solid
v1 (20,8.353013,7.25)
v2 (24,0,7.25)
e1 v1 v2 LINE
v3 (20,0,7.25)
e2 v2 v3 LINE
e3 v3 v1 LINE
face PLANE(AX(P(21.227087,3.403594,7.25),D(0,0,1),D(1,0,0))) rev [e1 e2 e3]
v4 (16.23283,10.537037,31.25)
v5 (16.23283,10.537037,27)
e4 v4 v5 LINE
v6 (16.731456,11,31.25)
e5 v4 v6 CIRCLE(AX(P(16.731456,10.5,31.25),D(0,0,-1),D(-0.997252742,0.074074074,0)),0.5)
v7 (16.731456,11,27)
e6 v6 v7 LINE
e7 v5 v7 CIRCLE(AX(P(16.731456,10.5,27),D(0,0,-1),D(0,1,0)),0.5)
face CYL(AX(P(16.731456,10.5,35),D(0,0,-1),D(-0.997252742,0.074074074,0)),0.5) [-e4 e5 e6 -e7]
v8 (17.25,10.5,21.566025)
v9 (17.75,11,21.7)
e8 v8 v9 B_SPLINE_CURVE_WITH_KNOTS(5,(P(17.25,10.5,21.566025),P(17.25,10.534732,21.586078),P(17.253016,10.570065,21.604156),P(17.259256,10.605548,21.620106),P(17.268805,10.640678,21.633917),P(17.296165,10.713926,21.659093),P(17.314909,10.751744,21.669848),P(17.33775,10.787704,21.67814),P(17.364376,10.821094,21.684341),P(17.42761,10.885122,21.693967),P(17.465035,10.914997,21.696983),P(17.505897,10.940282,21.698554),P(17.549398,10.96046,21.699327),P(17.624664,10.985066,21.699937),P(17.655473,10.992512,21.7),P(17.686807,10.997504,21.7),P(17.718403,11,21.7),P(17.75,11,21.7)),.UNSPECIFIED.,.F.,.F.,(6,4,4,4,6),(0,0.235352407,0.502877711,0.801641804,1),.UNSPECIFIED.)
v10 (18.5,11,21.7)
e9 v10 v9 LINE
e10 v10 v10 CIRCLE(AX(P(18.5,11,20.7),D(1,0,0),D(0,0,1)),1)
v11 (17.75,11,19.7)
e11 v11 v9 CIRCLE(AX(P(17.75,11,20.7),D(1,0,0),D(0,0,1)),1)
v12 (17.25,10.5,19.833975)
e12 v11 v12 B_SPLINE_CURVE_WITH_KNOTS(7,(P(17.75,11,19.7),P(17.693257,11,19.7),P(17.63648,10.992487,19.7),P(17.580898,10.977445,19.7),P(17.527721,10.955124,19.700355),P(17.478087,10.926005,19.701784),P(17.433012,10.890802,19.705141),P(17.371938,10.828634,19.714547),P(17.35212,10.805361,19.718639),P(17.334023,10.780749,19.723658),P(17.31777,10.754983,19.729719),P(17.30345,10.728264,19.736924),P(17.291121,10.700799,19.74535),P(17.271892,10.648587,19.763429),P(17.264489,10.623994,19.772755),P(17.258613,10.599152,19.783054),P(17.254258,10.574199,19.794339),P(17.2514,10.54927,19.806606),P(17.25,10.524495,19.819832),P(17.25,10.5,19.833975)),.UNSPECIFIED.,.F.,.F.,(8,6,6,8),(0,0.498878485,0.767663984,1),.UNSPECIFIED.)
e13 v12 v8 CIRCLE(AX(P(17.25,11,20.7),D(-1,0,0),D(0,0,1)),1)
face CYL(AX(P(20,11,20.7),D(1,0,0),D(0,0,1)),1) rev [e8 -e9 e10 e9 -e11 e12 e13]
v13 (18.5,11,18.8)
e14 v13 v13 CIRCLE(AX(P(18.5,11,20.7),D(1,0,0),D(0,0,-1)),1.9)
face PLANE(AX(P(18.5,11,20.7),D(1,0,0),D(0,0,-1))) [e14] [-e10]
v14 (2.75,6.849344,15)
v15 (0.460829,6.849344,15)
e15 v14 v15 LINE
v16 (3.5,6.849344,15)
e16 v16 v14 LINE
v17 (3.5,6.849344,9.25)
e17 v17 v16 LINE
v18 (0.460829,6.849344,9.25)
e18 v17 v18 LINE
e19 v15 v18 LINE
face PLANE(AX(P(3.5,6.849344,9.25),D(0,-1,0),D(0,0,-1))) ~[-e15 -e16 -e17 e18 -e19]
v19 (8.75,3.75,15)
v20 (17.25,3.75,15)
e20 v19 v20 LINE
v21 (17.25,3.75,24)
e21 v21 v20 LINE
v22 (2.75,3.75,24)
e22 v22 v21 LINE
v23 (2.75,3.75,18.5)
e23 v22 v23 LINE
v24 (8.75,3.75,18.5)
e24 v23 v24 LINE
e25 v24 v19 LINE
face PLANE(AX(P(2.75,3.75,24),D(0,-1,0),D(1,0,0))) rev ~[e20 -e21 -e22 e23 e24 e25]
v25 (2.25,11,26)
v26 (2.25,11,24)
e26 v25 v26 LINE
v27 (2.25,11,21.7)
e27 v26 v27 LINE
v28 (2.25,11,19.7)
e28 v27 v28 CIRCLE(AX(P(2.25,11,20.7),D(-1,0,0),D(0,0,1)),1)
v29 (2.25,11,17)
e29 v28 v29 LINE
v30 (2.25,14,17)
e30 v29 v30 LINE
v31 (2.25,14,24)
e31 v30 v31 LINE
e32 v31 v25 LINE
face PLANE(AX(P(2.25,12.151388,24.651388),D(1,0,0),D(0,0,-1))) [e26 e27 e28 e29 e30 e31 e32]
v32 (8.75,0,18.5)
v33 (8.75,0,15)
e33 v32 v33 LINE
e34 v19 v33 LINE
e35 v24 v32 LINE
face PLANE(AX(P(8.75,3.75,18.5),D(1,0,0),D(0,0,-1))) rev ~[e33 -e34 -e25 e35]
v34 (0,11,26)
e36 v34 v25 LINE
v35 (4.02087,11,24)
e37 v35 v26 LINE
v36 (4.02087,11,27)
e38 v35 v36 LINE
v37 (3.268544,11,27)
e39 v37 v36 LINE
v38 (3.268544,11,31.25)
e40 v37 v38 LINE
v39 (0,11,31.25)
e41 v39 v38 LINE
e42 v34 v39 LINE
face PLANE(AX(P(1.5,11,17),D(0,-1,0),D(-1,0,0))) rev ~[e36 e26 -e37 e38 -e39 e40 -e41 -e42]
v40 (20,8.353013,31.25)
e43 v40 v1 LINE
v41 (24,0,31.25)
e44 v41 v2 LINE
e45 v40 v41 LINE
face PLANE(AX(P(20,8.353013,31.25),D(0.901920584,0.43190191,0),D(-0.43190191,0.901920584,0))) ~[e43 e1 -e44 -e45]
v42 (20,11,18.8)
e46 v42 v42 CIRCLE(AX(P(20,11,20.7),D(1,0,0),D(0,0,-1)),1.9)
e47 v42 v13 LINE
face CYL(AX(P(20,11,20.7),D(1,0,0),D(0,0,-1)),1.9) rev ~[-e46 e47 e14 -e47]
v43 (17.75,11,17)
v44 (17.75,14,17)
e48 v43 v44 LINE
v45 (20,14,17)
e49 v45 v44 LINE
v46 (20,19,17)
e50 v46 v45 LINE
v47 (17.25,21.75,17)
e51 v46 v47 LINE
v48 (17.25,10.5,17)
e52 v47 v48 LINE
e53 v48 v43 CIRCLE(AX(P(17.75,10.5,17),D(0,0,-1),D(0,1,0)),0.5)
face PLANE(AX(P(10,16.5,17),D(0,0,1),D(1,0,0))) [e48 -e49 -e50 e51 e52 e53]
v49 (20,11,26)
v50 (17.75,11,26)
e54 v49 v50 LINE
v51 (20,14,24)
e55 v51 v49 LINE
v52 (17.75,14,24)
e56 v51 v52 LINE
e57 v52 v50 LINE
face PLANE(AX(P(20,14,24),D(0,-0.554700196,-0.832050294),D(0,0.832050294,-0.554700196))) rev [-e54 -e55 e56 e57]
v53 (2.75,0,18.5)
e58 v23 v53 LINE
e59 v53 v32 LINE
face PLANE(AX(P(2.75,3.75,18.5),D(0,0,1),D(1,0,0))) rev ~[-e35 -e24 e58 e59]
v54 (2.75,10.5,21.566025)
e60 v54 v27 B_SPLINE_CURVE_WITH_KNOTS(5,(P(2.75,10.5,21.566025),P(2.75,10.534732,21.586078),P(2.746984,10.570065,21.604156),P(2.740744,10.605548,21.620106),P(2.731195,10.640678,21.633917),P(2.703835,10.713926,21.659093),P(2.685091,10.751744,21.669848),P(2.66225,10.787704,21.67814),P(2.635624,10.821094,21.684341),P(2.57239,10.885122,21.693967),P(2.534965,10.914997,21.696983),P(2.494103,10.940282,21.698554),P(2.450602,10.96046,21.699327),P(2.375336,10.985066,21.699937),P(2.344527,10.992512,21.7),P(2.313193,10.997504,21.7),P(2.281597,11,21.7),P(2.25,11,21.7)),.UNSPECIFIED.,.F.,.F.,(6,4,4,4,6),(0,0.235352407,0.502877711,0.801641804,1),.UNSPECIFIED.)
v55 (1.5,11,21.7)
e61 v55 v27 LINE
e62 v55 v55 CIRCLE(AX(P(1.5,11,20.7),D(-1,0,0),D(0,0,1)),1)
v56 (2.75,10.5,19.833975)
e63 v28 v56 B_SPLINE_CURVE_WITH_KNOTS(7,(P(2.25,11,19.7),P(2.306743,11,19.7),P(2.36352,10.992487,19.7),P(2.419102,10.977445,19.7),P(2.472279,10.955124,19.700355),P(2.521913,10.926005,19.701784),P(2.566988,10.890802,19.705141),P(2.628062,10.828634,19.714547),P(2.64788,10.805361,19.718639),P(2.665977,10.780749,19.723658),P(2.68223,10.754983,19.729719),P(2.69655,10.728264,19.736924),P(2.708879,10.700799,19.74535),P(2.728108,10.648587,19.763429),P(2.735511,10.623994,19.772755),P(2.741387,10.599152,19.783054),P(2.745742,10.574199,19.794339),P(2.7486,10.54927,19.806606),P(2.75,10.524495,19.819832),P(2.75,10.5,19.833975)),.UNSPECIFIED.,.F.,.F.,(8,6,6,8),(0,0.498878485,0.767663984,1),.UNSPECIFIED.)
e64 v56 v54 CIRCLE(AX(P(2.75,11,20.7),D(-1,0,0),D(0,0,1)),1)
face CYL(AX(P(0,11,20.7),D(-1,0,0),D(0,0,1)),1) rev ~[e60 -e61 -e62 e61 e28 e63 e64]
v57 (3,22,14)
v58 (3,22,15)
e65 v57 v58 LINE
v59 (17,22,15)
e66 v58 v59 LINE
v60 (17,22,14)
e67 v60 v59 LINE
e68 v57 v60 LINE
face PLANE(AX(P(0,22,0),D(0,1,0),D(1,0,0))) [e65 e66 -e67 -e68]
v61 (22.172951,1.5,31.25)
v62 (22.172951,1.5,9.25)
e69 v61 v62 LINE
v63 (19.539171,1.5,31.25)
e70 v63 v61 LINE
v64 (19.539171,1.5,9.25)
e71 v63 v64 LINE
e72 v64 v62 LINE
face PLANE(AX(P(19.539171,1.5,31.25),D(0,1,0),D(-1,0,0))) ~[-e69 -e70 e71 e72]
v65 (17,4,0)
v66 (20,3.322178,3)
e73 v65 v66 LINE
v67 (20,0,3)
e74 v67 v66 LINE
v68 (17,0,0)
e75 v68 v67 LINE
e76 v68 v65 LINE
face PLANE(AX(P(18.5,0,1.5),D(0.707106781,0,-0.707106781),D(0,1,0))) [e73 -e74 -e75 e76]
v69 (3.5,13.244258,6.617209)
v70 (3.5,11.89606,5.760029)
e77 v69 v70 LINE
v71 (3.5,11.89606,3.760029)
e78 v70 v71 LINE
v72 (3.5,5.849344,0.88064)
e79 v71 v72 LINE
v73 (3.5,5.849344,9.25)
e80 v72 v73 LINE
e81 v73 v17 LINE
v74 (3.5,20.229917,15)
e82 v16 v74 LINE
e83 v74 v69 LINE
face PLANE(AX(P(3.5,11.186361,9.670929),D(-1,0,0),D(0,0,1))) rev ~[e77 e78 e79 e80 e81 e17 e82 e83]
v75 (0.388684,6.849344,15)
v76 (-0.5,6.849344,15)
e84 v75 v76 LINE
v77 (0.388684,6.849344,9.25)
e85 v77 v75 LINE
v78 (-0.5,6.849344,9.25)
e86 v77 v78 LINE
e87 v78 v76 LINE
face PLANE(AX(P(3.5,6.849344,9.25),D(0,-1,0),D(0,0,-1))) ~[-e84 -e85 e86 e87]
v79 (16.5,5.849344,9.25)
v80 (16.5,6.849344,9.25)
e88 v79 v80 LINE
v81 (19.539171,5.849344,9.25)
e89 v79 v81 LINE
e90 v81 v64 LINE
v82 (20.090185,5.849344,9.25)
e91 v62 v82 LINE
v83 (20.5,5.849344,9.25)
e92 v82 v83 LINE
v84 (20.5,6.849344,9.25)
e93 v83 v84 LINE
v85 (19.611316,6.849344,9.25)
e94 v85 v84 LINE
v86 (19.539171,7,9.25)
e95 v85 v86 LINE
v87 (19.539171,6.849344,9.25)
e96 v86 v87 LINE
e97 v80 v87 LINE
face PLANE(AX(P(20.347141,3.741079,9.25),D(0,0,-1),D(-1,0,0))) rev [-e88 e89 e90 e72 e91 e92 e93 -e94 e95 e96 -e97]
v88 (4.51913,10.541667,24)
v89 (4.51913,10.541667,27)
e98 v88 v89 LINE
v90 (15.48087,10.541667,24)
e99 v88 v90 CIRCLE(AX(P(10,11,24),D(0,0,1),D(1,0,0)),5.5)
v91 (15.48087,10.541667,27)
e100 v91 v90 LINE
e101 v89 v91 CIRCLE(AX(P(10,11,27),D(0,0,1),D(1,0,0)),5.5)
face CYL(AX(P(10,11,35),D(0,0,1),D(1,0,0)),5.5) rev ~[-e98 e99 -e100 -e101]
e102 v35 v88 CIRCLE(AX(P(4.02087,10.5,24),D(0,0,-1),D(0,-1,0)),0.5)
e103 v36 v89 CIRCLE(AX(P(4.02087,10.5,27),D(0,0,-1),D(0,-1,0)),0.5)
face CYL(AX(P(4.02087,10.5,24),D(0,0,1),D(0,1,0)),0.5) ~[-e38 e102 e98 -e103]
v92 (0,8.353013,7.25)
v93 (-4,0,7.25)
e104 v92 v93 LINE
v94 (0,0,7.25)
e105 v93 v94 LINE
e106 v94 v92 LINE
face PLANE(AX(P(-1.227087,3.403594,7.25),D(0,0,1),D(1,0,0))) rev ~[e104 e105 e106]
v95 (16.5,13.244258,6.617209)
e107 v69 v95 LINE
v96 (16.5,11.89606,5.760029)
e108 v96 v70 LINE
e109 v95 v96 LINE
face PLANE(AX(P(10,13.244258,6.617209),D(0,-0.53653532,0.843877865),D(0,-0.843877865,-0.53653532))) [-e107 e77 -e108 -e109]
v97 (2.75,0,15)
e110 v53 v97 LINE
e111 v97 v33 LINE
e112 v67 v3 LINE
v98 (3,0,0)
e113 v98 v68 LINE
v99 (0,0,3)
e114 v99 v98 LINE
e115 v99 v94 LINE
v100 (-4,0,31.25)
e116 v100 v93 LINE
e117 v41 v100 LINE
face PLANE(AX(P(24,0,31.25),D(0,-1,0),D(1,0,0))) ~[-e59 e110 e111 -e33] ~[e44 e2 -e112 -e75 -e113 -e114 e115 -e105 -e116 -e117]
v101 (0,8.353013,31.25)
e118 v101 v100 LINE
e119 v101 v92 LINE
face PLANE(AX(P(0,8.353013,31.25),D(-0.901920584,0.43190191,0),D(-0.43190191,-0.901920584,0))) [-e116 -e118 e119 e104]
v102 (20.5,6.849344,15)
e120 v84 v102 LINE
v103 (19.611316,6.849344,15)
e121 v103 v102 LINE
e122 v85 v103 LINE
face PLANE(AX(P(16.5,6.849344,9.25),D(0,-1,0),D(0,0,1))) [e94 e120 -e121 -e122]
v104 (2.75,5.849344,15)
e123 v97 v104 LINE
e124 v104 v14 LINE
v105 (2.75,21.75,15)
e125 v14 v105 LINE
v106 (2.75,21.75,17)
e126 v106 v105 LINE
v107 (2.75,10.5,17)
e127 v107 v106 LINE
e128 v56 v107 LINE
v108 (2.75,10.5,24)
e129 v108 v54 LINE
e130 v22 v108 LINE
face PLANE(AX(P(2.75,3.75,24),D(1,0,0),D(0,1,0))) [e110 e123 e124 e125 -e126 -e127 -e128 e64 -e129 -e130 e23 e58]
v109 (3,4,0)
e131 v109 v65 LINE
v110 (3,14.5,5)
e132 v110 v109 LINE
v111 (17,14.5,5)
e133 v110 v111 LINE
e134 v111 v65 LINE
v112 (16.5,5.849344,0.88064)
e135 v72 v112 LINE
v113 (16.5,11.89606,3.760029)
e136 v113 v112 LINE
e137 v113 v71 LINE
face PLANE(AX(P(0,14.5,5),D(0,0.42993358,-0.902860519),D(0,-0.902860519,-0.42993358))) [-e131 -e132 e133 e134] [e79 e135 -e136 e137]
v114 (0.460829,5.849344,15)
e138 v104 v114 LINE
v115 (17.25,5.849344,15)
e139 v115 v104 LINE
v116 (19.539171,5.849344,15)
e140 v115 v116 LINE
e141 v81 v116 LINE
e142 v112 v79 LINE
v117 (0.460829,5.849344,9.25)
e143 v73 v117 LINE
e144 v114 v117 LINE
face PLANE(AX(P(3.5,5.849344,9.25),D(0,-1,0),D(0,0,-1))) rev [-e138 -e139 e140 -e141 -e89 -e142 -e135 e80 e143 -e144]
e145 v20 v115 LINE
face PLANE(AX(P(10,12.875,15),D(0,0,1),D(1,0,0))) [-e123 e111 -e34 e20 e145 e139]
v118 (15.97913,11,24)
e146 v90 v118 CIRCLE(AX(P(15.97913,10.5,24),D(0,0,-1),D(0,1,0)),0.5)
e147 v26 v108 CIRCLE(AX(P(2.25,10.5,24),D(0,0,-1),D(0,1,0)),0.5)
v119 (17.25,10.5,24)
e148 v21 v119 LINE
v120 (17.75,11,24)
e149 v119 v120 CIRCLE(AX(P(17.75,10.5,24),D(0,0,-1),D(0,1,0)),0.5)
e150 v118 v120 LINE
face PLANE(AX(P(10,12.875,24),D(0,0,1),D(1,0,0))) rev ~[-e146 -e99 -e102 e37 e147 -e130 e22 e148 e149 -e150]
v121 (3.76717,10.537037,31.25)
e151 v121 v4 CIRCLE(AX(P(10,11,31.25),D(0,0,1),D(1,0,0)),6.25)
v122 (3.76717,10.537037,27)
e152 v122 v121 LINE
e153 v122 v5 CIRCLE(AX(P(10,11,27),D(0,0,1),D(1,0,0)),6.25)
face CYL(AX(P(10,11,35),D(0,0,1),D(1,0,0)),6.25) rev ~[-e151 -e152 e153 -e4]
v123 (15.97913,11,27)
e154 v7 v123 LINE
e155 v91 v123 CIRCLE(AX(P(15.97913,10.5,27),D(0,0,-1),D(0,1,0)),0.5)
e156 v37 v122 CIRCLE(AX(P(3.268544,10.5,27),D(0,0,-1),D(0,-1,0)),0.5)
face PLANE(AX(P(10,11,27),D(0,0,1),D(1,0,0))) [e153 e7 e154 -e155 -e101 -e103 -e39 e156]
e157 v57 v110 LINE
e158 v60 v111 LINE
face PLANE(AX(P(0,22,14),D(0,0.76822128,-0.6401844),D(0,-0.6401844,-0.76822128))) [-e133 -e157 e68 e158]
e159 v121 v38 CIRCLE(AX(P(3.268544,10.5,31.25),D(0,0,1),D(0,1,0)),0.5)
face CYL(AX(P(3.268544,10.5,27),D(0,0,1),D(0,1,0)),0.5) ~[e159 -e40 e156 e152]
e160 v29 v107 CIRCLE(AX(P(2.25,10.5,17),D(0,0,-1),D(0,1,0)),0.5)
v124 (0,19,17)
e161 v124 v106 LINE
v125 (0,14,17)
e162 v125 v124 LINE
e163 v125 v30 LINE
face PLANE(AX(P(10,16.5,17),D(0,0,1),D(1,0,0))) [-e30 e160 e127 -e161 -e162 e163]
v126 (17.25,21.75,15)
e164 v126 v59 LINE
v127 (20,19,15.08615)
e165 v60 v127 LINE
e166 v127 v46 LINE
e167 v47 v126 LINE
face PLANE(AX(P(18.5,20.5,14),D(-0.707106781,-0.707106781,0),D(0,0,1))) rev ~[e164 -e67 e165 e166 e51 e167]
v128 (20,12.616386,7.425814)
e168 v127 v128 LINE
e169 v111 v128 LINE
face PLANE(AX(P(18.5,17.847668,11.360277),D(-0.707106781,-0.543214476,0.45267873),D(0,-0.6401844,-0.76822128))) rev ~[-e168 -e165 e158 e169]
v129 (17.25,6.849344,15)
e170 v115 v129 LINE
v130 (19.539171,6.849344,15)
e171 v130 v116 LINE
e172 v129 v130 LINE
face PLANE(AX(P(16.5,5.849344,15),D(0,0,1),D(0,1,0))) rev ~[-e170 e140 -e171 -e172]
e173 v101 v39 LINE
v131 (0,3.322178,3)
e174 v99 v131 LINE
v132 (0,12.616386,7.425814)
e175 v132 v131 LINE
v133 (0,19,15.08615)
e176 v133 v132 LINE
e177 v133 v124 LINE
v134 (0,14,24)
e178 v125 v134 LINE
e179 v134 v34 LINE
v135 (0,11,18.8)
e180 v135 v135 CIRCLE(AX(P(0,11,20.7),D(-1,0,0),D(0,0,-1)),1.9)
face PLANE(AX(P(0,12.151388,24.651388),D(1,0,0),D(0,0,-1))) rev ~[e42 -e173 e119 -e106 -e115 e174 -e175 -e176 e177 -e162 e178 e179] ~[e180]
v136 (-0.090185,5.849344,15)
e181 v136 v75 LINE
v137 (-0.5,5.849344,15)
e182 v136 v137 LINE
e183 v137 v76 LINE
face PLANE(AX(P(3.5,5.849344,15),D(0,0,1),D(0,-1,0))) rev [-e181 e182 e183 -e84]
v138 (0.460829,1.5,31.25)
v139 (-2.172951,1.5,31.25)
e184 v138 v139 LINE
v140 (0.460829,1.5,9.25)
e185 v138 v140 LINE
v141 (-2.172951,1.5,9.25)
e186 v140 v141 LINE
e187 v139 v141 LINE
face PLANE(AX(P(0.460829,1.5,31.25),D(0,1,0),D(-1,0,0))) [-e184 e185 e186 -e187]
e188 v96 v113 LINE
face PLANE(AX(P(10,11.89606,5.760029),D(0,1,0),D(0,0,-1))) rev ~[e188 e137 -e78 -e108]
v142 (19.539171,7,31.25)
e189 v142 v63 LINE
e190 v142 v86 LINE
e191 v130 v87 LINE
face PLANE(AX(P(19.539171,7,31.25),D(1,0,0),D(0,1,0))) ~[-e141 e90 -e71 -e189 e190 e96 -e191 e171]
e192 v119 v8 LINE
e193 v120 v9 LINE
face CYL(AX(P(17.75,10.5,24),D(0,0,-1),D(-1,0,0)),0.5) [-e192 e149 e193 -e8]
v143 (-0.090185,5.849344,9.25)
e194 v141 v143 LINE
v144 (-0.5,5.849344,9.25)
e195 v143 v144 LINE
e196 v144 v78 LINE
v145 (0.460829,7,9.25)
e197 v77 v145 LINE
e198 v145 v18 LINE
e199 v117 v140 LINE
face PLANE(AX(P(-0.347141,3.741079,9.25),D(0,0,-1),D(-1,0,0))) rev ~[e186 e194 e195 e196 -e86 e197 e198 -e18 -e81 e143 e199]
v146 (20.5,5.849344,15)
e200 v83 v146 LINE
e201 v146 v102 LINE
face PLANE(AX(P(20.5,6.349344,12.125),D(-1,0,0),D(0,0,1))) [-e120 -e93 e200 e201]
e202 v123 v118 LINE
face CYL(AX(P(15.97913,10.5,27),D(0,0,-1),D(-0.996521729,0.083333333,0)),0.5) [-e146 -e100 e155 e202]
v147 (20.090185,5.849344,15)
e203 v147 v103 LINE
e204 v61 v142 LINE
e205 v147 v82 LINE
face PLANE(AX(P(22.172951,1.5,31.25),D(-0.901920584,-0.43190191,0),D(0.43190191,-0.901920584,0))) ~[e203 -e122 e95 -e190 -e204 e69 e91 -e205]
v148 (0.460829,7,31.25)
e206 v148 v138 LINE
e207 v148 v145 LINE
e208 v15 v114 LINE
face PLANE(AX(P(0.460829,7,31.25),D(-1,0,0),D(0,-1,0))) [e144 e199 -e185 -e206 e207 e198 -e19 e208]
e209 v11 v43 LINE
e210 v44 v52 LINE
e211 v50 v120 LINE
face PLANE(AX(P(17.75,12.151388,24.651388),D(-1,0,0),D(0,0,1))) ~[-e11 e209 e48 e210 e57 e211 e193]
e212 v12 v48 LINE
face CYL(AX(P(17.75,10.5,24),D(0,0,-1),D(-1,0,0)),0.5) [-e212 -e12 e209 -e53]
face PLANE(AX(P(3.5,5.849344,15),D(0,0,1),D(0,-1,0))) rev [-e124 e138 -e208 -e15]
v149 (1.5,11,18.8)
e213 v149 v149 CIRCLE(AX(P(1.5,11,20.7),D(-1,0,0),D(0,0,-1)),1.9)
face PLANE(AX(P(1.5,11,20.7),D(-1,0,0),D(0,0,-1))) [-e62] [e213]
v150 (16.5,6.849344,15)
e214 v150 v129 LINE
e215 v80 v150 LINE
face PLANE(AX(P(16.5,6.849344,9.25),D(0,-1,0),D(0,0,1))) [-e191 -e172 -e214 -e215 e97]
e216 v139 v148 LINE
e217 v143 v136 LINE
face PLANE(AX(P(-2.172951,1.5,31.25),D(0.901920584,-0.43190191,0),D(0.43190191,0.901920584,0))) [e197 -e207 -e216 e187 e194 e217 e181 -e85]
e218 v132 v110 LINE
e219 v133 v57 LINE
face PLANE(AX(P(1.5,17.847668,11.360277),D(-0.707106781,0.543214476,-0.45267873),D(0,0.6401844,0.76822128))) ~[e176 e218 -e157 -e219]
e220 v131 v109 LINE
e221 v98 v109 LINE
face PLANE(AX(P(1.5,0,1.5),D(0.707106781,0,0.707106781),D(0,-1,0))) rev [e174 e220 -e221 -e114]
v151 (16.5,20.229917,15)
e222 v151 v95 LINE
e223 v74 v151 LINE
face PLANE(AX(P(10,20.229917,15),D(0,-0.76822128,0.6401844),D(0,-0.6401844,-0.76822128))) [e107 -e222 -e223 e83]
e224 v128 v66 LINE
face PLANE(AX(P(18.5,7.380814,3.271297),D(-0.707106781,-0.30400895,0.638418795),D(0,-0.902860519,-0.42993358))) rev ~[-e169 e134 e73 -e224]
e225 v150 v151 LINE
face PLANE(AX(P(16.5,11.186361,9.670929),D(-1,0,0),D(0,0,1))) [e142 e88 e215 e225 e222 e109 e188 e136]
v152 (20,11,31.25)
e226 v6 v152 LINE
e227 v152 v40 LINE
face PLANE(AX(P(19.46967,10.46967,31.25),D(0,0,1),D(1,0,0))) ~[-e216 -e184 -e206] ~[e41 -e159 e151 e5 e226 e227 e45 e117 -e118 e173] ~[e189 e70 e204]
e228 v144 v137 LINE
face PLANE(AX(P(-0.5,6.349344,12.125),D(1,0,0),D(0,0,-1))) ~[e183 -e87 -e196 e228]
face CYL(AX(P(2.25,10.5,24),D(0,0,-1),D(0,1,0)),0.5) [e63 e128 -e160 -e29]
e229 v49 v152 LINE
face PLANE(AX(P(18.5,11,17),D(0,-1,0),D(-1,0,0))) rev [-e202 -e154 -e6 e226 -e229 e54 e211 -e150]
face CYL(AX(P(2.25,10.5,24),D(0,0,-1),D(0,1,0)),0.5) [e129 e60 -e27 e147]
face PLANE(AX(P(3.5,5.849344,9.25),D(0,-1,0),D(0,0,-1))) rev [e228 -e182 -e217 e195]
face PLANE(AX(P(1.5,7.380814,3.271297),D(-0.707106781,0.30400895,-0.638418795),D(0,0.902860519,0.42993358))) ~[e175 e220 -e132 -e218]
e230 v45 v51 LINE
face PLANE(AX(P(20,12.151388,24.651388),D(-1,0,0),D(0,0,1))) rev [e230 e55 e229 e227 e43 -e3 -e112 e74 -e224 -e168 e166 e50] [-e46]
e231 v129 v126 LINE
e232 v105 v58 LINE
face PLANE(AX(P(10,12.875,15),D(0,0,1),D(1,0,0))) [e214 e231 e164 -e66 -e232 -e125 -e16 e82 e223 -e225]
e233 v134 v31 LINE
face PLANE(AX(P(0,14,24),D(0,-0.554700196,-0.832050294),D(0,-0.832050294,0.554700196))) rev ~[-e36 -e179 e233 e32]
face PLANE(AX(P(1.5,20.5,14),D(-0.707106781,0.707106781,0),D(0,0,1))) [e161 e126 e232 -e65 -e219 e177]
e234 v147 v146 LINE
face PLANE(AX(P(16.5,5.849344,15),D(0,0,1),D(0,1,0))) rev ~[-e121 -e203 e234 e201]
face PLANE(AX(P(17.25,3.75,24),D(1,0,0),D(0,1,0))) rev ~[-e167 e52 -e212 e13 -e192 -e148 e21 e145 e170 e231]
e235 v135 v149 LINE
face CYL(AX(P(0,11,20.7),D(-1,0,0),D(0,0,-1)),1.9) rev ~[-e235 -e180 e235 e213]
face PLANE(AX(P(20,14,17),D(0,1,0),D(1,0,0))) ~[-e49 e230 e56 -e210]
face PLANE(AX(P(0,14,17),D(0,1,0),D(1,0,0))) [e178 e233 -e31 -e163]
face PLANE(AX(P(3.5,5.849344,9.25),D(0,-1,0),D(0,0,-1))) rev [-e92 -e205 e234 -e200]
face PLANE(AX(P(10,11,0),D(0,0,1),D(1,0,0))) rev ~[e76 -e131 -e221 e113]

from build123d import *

# Parameters (mm, degrees)
SKIZZE1_W                             = 20
SKIZZE1_H                             = 22
AUFSATZ_LINEAR_AUSTRAGEN1_DEPTH       = 35
SKIZZE2_R                             = 5.5
SCHNITT_LINEAR_AUSTRAGEN1_DEPTH       = 11
SKIZZE3_R                             = 6.25
SCHNITT_LINEAR_AUSTRAGEN2_DEPTH       = 8
SKIZZE5_W                             = 14.5
SKIZZE5_H                             = 18.25
SCHNITT_LINEAR_AUSTRAGEN3_DEPTH       = 9
SKIZZE13_W                            = 20
SKIZZE13_H                            = 11
SCHNITT_LINEAR_AUSTRAGEN6_DEPTH       = 18
SCHNITT_LINEAR_AUSTRAGEN7_DEPTH       = 46.923850013
VERRUNDUNG1_R                         = 0.5
FASE1_SIZE                            = 3
FASE2_SIZE                            = 3
FASE3_SIZE                            = 3
FASE4_SIZE                            = 1.5
SKIZZE17_W                            = 6
SKIZZE17_H                            = 3.5
SCHNITT_LINEAR_AUSTRAGEN8_DEPTH       = 45.25
SCHNITT_LINEAR_AUSTRAGEN9_REACH       = 47.924
SKIZZE18_W                            = 3.75
SKIZZE18_H                            = 11
SCHNITT_LINEAR_AUSTRAGEN10_DEPTH      = 6.5
SCHNITT_LINEAR_AUSTRAGEN10_DEPTH_BACK = 6.5
AUFSATZ_LINEAR_AUSTRAGEN2_DEPTH       = 24
SCHNITT_LINEAR_AUSTRAGEN11_DEPTH      = 22
SKIZZE26_W                            = 5.75
SKIZZE26_H                            = 1
SCHNITT_LINEAR_AUSTRAGEN12_DEPTH      = 4
AUFSATZ_LINEAR_AUSTRAGEN3_DEPTH       = 14.25
SKIZZE28_W                            = 2.25
SKIZZE28_H                            = 3
AUFSATZ_LINEAR_AUSTRAGEN4_DEPTH       = 7
AUFSATZ_LINEAR_AUSTRAGEN6_DEPTH       = 2.25
SCHNITT_LINEAR_AUSTRAGEN13_REACH      = 47.128
SKIZZE32_R                            = 1
SCHNITT_LINEAR_START                  = 10
SKIZZE33_R                            = 1.9
SCHNITT_LINEAR_AUSTRAGEN14_DEPTH      = 1.5
SKIZZE34_R                            = 1.9
SCHNITT_LINEAR_AUSTRAGEN15_DEPTH      = 1.5


with BuildPart() as part:
    # Skizze1 → Aufsatz-Linear austragen1 (new body)
    with BuildSketch(Plane.XY):
        with Locations((10, 11)):
            Rectangle(SKIZZE1_W, SKIZZE1_H)
    extrude(amount=AUFSATZ_LINEAR_AUSTRAGEN1_DEPTH)

    # Skizze2 → Schnitt-Linear austragen1 (cut)
    with BuildSketch(Plane.XY.offset(35)):
        with Locations((10, 11)):
            Circle(SKIZZE2_R)
    extrude(amount=-SCHNITT_LINEAR_AUSTRAGEN1_DEPTH, mode=Mode.SUBTRACT)

    # Skizze3 → Schnitt-Linear austragen2 (cut)
    with BuildSketch(Plane.XY.offset(35)):
        with Locations((10, 11)):
            Circle(SKIZZE3_R)
    extrude(amount=-SCHNITT_LINEAR_AUSTRAGEN2_DEPTH, mode=Mode.SUBTRACT)

    # Skizze5 → Schnitt-Linear austragen3 (cut)
    with BuildSketch(Plane.XY.offset(24)):
        with Locations((10, 12.875)):
            Rectangle(SKIZZE5_W, SKIZZE5_H)
    extrude(amount=-SCHNITT_LINEAR_AUSTRAGEN3_DEPTH, mode=Mode.SUBTRACT)

    # Skizze13 → Schnitt-Linear austragen6 (cut)
    with BuildSketch(Plane.XY.offset(35)):
        with Locations((10, 16.5)):
            Rectangle(SKIZZE13_W, SKIZZE13_H)
    extrude(amount=-SCHNITT_LINEAR_AUSTRAGEN6_DEPTH, mode=Mode.SUBTRACT)

    # Skizze16 → Schnitt-Linear austragen7 (cut, through all)
    with BuildSketch(Plane.ZY):
        Polygon((14, 22), (5, 14.5), (0, 4), (0, 22), align=None)
    extrude(amount=-SCHNITT_LINEAR_AUSTRAGEN7_DEPTH, mode=Mode.SUBTRACT)

    # Verrundung1
    verrundung1_edges = [part.edges().sort_by_distance(p)[0] for p in [
        (17.25, 11, 20.5),
        (3.75, 11, 31),
        (2.75, 11, 20.5),
        (4.5, 11, 25.5),
        (16.25, 11, 31),
        (15.5, 11, 25.5),
    ]]
    fillet(verrundung1_edges, radius=VERRUNDUNG1_R)

    # Fase1
    fase1_edges = [part.edges().sort_by_distance(p)[0] for p in [
        (20, 22, 15.5),
        (0, 22, 15.5),
    ]]
    chamfer(fase1_edges, length=FASE1_SIZE)

    # Fase2
    fase2_edges = [part.edges().sort_by_distance(p)[0] for p in [
        (0, 16.75, 7.7),
        (20, 16.75, 7.7),
    ]]
    chamfer(fase2_edges, length=FASE2_SIZE)

    # Fase3
    fase3_edges = [part.edges().sort_by_distance(p)[0] for p in [
        (20, 6.012857042, 0.958503353),
        (20, 2, 0),
        (0, 6.012857042, 0.958503353),
        (0, 2, 0),
    ]]
    chamfer(fase3_edges, length=FASE3_SIZE)

    # Fase4
    fase4_edges = [part.edges().sort_by_distance(p)[0] for p in [
        (20, 11, 26),
        (0, 11, 26),
    ]]
    chamfer(fase4_edges, length=FASE4_SIZE)

    # Skizze17 → Schnitt-Linear austragen8 (cut, through all)
    with BuildSketch(Plane(origin=(0, 3.75, 0), x_dir=(1, 0, 0), z_dir=(0, 1, 0))):
        with Locations((5.75, -16.75)):
            Rectangle(SKIZZE17_W, SKIZZE17_H)
    extrude(amount=-SCHNITT_LINEAR_AUSTRAGEN8_DEPTH, mode=Mode.SUBTRACT)

    # Schnitt-Linear austragen9: up to this face of the body (flat: up to its plane)
    schnitt_linear_austragen9_end = Plane(part.part.faces().sort_by_distance((20, 6.280299508, 18.20769637))[0])
    # Skizze18 → Schnitt-Linear austragen9 (cut, up to the picked face)
    with BuildSketch(Plane.ZY, mode=Mode.PRIVATE) as schnitt_linear_austragen9_sk1:
        with Locations((33.125, 5.5)):
            Rectangle(SKIZZE18_W, SKIZZE18_H)
    schnitt_linear_austragen9_tool1 = split(extrude(schnitt_linear_austragen9_sk1.sketch, amount=-SCHNITT_LINEAR_AUSTRAGEN9_REACH, mode=Mode.PRIVATE), bisect_by=schnitt_linear_austragen9_end, keep=Keep.BOTH, mode=Mode.PRIVATE)
    add(schnitt_linear_austragen9_tool1.solids().sort_by(Axis((0, 5.5, 33.125), (1, 0, 0)))[0], mode=Mode.SUBTRACT)

    # Skizze22 → Schnitt-Linear austragen10 (cut, two sides)
    with BuildSketch(Plane.ZY.offset(-10)) as schnitt_linear_austragen10_sk:
        Polygon((15, 20.229916775), (6.617209038, 13.24425764), (5.760028677, 11.896060222), (3.760028677, 11.896060222), (0.88063989, 5.849343769), (6.035195751, 5.849343769), (15, 5.849343769), align=None)
    extrude(amount=SCHNITT_LINEAR_AUSTRAGEN10_DEPTH, mode=Mode.SUBTRACT)
    extrude(schnitt_linear_austragen10_sk.sketch, amount=-SCHNITT_LINEAR_AUSTRAGEN10_DEPTH_BACK, mode=Mode.SUBTRACT)

    # Skizze23 → Aufsatz-Linear austragen2 (add)
    with BuildSketch(Plane.XY.offset(31.25)):
        Polygon((0, 8.353013166), (-4, 0), (0, 0), align=None)
    aufsatz_linear_austragen2 = extrude(amount=-AUFSATZ_LINEAR_AUSTRAGEN2_DEPTH)

    # Spiegeln1: Aufsatz-Linear austragen2 across plane
    add(aufsatz_linear_austragen2.mirror(Plane.ZY.offset(-10)))

    # Skizze24 → Schnitt-Linear austragen11 (cut)
    with BuildSketch(Plane.XY.offset(31.25)):
        Polygon((0.460828855, 1.5), (-2.172951263, 1.5), (0.460828855, 7), align=None)
    schnitt_linear_austragen11 = extrude(amount=-SCHNITT_LINEAR_AUSTRAGEN11_DEPTH, mode=Mode.SUBTRACT)

    # Skizze26 → Schnitt-Linear austragen12 (cut)
    with BuildSketch(Plane.ZY.offset(-16.5)):
        with Locations((12.125, 6.349343769)):
            Rectangle(SKIZZE26_W, SKIZZE26_H)
    schnitt_linear_austragen12 = extrude(amount=-SCHNITT_LINEAR_AUSTRAGEN12_DEPTH, mode=Mode.SUBTRACT)

    # Spiegeln2: Schnitt-Linear austragen12 across plane
    add(schnitt_linear_austragen12.mirror(Plane.ZY.offset(-10)), mode=Mode.SUBTRACT)

    # Spiegeln3: Schnitt-Linear austragen11 across plane
    add(schnitt_linear_austragen11.mirror(Plane.ZY.offset(-10)), mode=Mode.SUBTRACT)

    # Skizze27 → Aufsatz-Linear austragen3 (add)
    with BuildSketch(Plane.XY.offset(17)):
        Polygon((0, 9.5), (1.5, 11), (0, 11), align=None)
    aufsatz_linear_austragen3 = extrude(amount=AUFSATZ_LINEAR_AUSTRAGEN3_DEPTH)

    # Spiegeln4: Aufsatz-Linear austragen3 across plane
    add(aufsatz_linear_austragen3.mirror(Plane.ZY.offset(-10)))

    # Skizze28 → Aufsatz-Linear austragen4 (add)
    with BuildSketch(Plane.XY.offset(17)):
        with Locations((1.125, 12.5)):
            Rectangle(SKIZZE28_W, SKIZZE28_H)
    aufsatz_linear_austragen4 = extrude(amount=AUFSATZ_LINEAR_AUSTRAGEN4_DEPTH)

    # Skizze31 → Aufsatz-Linear austragen6 (add)
    with BuildSketch(Plane.ZY):
        Polygon((24, 14), (26, 11), (24, 11), align=None)
    aufsatz_linear_austragen6 = extrude(amount=-AUFSATZ_LINEAR_AUSTRAGEN6_DEPTH)

    # Schnitt-Linear austragen13: up to this face of the body (flat: up to its plane)
    schnitt_linear_austragen13_end = Plane(part.part.faces().sort_by_distance((2.75, 8.51118677, 18.308365759))[0])
    # Skizze32 → Schnitt-Linear austragen13 (cut, up to the picked face)
    with BuildSketch(Plane.ZY, mode=Mode.PRIVATE) as schnitt_linear_austragen13_sk1:
        with Locations((20.7, 11)):
            Circle(SKIZZE32_R)
    schnitt_linear_austragen13_tool1 = split(extrude(schnitt_linear_austragen13_sk1.sketch, amount=-SCHNITT_LINEAR_AUSTRAGEN13_REACH, mode=Mode.PRIVATE), bisect_by=schnitt_linear_austragen13_end, keep=Keep.BOTH, mode=Mode.PRIVATE)
    schnitt_linear_austragen13 = schnitt_linear_austragen13_tool1.solids().sort_by(Axis((0, 11, 20.7), (1, 0, 0)))[0]
    add(schnitt_linear_austragen13, mode=Mode.SUBTRACT)

    # Skizze33 → Schnitt-Linear austragen14 (cut)
    with BuildSketch(Plane.ZY.offset(-10).offset(SCHNITT_LINEAR_START)):
        with Locations(Location((20.7, 11, 0), (0, 0, 180))):
            Circle(SKIZZE33_R)
    extrude(amount=-SCHNITT_LINEAR_AUSTRAGEN14_DEPTH, mode=Mode.SUBTRACT)

    # Spiegeln6: Aufsatz-Linear austragen4, Aufsatz-Linear austragen6 across plane
    add(aufsatz_linear_austragen4.mirror(Plane.ZY.offset(-10)))
    add(aufsatz_linear_austragen6.mirror(Plane.ZY.offset(-10)))

    # Spiegeln8: Schnitt-Linear austragen13 across plane
    add(schnitt_linear_austragen13.mirror(Plane.ZY.offset(-10)), mode=Mode.SUBTRACT)

    # Skizze34 → Schnitt-Linear austragen15 (cut)
    with BuildSketch(Plane(origin=(20, 0, 0), x_dir=(0, 0, -1), z_dir=(1, 0, 0))):
        with Locations((-20.7, 11)):
            Circle(SKIZZE34_R)
    extrude(amount=-SCHNITT_LINEAR_AUSTRAGEN15_DEPTH, mode=Mode.SUBTRACT)


solid = part.part
